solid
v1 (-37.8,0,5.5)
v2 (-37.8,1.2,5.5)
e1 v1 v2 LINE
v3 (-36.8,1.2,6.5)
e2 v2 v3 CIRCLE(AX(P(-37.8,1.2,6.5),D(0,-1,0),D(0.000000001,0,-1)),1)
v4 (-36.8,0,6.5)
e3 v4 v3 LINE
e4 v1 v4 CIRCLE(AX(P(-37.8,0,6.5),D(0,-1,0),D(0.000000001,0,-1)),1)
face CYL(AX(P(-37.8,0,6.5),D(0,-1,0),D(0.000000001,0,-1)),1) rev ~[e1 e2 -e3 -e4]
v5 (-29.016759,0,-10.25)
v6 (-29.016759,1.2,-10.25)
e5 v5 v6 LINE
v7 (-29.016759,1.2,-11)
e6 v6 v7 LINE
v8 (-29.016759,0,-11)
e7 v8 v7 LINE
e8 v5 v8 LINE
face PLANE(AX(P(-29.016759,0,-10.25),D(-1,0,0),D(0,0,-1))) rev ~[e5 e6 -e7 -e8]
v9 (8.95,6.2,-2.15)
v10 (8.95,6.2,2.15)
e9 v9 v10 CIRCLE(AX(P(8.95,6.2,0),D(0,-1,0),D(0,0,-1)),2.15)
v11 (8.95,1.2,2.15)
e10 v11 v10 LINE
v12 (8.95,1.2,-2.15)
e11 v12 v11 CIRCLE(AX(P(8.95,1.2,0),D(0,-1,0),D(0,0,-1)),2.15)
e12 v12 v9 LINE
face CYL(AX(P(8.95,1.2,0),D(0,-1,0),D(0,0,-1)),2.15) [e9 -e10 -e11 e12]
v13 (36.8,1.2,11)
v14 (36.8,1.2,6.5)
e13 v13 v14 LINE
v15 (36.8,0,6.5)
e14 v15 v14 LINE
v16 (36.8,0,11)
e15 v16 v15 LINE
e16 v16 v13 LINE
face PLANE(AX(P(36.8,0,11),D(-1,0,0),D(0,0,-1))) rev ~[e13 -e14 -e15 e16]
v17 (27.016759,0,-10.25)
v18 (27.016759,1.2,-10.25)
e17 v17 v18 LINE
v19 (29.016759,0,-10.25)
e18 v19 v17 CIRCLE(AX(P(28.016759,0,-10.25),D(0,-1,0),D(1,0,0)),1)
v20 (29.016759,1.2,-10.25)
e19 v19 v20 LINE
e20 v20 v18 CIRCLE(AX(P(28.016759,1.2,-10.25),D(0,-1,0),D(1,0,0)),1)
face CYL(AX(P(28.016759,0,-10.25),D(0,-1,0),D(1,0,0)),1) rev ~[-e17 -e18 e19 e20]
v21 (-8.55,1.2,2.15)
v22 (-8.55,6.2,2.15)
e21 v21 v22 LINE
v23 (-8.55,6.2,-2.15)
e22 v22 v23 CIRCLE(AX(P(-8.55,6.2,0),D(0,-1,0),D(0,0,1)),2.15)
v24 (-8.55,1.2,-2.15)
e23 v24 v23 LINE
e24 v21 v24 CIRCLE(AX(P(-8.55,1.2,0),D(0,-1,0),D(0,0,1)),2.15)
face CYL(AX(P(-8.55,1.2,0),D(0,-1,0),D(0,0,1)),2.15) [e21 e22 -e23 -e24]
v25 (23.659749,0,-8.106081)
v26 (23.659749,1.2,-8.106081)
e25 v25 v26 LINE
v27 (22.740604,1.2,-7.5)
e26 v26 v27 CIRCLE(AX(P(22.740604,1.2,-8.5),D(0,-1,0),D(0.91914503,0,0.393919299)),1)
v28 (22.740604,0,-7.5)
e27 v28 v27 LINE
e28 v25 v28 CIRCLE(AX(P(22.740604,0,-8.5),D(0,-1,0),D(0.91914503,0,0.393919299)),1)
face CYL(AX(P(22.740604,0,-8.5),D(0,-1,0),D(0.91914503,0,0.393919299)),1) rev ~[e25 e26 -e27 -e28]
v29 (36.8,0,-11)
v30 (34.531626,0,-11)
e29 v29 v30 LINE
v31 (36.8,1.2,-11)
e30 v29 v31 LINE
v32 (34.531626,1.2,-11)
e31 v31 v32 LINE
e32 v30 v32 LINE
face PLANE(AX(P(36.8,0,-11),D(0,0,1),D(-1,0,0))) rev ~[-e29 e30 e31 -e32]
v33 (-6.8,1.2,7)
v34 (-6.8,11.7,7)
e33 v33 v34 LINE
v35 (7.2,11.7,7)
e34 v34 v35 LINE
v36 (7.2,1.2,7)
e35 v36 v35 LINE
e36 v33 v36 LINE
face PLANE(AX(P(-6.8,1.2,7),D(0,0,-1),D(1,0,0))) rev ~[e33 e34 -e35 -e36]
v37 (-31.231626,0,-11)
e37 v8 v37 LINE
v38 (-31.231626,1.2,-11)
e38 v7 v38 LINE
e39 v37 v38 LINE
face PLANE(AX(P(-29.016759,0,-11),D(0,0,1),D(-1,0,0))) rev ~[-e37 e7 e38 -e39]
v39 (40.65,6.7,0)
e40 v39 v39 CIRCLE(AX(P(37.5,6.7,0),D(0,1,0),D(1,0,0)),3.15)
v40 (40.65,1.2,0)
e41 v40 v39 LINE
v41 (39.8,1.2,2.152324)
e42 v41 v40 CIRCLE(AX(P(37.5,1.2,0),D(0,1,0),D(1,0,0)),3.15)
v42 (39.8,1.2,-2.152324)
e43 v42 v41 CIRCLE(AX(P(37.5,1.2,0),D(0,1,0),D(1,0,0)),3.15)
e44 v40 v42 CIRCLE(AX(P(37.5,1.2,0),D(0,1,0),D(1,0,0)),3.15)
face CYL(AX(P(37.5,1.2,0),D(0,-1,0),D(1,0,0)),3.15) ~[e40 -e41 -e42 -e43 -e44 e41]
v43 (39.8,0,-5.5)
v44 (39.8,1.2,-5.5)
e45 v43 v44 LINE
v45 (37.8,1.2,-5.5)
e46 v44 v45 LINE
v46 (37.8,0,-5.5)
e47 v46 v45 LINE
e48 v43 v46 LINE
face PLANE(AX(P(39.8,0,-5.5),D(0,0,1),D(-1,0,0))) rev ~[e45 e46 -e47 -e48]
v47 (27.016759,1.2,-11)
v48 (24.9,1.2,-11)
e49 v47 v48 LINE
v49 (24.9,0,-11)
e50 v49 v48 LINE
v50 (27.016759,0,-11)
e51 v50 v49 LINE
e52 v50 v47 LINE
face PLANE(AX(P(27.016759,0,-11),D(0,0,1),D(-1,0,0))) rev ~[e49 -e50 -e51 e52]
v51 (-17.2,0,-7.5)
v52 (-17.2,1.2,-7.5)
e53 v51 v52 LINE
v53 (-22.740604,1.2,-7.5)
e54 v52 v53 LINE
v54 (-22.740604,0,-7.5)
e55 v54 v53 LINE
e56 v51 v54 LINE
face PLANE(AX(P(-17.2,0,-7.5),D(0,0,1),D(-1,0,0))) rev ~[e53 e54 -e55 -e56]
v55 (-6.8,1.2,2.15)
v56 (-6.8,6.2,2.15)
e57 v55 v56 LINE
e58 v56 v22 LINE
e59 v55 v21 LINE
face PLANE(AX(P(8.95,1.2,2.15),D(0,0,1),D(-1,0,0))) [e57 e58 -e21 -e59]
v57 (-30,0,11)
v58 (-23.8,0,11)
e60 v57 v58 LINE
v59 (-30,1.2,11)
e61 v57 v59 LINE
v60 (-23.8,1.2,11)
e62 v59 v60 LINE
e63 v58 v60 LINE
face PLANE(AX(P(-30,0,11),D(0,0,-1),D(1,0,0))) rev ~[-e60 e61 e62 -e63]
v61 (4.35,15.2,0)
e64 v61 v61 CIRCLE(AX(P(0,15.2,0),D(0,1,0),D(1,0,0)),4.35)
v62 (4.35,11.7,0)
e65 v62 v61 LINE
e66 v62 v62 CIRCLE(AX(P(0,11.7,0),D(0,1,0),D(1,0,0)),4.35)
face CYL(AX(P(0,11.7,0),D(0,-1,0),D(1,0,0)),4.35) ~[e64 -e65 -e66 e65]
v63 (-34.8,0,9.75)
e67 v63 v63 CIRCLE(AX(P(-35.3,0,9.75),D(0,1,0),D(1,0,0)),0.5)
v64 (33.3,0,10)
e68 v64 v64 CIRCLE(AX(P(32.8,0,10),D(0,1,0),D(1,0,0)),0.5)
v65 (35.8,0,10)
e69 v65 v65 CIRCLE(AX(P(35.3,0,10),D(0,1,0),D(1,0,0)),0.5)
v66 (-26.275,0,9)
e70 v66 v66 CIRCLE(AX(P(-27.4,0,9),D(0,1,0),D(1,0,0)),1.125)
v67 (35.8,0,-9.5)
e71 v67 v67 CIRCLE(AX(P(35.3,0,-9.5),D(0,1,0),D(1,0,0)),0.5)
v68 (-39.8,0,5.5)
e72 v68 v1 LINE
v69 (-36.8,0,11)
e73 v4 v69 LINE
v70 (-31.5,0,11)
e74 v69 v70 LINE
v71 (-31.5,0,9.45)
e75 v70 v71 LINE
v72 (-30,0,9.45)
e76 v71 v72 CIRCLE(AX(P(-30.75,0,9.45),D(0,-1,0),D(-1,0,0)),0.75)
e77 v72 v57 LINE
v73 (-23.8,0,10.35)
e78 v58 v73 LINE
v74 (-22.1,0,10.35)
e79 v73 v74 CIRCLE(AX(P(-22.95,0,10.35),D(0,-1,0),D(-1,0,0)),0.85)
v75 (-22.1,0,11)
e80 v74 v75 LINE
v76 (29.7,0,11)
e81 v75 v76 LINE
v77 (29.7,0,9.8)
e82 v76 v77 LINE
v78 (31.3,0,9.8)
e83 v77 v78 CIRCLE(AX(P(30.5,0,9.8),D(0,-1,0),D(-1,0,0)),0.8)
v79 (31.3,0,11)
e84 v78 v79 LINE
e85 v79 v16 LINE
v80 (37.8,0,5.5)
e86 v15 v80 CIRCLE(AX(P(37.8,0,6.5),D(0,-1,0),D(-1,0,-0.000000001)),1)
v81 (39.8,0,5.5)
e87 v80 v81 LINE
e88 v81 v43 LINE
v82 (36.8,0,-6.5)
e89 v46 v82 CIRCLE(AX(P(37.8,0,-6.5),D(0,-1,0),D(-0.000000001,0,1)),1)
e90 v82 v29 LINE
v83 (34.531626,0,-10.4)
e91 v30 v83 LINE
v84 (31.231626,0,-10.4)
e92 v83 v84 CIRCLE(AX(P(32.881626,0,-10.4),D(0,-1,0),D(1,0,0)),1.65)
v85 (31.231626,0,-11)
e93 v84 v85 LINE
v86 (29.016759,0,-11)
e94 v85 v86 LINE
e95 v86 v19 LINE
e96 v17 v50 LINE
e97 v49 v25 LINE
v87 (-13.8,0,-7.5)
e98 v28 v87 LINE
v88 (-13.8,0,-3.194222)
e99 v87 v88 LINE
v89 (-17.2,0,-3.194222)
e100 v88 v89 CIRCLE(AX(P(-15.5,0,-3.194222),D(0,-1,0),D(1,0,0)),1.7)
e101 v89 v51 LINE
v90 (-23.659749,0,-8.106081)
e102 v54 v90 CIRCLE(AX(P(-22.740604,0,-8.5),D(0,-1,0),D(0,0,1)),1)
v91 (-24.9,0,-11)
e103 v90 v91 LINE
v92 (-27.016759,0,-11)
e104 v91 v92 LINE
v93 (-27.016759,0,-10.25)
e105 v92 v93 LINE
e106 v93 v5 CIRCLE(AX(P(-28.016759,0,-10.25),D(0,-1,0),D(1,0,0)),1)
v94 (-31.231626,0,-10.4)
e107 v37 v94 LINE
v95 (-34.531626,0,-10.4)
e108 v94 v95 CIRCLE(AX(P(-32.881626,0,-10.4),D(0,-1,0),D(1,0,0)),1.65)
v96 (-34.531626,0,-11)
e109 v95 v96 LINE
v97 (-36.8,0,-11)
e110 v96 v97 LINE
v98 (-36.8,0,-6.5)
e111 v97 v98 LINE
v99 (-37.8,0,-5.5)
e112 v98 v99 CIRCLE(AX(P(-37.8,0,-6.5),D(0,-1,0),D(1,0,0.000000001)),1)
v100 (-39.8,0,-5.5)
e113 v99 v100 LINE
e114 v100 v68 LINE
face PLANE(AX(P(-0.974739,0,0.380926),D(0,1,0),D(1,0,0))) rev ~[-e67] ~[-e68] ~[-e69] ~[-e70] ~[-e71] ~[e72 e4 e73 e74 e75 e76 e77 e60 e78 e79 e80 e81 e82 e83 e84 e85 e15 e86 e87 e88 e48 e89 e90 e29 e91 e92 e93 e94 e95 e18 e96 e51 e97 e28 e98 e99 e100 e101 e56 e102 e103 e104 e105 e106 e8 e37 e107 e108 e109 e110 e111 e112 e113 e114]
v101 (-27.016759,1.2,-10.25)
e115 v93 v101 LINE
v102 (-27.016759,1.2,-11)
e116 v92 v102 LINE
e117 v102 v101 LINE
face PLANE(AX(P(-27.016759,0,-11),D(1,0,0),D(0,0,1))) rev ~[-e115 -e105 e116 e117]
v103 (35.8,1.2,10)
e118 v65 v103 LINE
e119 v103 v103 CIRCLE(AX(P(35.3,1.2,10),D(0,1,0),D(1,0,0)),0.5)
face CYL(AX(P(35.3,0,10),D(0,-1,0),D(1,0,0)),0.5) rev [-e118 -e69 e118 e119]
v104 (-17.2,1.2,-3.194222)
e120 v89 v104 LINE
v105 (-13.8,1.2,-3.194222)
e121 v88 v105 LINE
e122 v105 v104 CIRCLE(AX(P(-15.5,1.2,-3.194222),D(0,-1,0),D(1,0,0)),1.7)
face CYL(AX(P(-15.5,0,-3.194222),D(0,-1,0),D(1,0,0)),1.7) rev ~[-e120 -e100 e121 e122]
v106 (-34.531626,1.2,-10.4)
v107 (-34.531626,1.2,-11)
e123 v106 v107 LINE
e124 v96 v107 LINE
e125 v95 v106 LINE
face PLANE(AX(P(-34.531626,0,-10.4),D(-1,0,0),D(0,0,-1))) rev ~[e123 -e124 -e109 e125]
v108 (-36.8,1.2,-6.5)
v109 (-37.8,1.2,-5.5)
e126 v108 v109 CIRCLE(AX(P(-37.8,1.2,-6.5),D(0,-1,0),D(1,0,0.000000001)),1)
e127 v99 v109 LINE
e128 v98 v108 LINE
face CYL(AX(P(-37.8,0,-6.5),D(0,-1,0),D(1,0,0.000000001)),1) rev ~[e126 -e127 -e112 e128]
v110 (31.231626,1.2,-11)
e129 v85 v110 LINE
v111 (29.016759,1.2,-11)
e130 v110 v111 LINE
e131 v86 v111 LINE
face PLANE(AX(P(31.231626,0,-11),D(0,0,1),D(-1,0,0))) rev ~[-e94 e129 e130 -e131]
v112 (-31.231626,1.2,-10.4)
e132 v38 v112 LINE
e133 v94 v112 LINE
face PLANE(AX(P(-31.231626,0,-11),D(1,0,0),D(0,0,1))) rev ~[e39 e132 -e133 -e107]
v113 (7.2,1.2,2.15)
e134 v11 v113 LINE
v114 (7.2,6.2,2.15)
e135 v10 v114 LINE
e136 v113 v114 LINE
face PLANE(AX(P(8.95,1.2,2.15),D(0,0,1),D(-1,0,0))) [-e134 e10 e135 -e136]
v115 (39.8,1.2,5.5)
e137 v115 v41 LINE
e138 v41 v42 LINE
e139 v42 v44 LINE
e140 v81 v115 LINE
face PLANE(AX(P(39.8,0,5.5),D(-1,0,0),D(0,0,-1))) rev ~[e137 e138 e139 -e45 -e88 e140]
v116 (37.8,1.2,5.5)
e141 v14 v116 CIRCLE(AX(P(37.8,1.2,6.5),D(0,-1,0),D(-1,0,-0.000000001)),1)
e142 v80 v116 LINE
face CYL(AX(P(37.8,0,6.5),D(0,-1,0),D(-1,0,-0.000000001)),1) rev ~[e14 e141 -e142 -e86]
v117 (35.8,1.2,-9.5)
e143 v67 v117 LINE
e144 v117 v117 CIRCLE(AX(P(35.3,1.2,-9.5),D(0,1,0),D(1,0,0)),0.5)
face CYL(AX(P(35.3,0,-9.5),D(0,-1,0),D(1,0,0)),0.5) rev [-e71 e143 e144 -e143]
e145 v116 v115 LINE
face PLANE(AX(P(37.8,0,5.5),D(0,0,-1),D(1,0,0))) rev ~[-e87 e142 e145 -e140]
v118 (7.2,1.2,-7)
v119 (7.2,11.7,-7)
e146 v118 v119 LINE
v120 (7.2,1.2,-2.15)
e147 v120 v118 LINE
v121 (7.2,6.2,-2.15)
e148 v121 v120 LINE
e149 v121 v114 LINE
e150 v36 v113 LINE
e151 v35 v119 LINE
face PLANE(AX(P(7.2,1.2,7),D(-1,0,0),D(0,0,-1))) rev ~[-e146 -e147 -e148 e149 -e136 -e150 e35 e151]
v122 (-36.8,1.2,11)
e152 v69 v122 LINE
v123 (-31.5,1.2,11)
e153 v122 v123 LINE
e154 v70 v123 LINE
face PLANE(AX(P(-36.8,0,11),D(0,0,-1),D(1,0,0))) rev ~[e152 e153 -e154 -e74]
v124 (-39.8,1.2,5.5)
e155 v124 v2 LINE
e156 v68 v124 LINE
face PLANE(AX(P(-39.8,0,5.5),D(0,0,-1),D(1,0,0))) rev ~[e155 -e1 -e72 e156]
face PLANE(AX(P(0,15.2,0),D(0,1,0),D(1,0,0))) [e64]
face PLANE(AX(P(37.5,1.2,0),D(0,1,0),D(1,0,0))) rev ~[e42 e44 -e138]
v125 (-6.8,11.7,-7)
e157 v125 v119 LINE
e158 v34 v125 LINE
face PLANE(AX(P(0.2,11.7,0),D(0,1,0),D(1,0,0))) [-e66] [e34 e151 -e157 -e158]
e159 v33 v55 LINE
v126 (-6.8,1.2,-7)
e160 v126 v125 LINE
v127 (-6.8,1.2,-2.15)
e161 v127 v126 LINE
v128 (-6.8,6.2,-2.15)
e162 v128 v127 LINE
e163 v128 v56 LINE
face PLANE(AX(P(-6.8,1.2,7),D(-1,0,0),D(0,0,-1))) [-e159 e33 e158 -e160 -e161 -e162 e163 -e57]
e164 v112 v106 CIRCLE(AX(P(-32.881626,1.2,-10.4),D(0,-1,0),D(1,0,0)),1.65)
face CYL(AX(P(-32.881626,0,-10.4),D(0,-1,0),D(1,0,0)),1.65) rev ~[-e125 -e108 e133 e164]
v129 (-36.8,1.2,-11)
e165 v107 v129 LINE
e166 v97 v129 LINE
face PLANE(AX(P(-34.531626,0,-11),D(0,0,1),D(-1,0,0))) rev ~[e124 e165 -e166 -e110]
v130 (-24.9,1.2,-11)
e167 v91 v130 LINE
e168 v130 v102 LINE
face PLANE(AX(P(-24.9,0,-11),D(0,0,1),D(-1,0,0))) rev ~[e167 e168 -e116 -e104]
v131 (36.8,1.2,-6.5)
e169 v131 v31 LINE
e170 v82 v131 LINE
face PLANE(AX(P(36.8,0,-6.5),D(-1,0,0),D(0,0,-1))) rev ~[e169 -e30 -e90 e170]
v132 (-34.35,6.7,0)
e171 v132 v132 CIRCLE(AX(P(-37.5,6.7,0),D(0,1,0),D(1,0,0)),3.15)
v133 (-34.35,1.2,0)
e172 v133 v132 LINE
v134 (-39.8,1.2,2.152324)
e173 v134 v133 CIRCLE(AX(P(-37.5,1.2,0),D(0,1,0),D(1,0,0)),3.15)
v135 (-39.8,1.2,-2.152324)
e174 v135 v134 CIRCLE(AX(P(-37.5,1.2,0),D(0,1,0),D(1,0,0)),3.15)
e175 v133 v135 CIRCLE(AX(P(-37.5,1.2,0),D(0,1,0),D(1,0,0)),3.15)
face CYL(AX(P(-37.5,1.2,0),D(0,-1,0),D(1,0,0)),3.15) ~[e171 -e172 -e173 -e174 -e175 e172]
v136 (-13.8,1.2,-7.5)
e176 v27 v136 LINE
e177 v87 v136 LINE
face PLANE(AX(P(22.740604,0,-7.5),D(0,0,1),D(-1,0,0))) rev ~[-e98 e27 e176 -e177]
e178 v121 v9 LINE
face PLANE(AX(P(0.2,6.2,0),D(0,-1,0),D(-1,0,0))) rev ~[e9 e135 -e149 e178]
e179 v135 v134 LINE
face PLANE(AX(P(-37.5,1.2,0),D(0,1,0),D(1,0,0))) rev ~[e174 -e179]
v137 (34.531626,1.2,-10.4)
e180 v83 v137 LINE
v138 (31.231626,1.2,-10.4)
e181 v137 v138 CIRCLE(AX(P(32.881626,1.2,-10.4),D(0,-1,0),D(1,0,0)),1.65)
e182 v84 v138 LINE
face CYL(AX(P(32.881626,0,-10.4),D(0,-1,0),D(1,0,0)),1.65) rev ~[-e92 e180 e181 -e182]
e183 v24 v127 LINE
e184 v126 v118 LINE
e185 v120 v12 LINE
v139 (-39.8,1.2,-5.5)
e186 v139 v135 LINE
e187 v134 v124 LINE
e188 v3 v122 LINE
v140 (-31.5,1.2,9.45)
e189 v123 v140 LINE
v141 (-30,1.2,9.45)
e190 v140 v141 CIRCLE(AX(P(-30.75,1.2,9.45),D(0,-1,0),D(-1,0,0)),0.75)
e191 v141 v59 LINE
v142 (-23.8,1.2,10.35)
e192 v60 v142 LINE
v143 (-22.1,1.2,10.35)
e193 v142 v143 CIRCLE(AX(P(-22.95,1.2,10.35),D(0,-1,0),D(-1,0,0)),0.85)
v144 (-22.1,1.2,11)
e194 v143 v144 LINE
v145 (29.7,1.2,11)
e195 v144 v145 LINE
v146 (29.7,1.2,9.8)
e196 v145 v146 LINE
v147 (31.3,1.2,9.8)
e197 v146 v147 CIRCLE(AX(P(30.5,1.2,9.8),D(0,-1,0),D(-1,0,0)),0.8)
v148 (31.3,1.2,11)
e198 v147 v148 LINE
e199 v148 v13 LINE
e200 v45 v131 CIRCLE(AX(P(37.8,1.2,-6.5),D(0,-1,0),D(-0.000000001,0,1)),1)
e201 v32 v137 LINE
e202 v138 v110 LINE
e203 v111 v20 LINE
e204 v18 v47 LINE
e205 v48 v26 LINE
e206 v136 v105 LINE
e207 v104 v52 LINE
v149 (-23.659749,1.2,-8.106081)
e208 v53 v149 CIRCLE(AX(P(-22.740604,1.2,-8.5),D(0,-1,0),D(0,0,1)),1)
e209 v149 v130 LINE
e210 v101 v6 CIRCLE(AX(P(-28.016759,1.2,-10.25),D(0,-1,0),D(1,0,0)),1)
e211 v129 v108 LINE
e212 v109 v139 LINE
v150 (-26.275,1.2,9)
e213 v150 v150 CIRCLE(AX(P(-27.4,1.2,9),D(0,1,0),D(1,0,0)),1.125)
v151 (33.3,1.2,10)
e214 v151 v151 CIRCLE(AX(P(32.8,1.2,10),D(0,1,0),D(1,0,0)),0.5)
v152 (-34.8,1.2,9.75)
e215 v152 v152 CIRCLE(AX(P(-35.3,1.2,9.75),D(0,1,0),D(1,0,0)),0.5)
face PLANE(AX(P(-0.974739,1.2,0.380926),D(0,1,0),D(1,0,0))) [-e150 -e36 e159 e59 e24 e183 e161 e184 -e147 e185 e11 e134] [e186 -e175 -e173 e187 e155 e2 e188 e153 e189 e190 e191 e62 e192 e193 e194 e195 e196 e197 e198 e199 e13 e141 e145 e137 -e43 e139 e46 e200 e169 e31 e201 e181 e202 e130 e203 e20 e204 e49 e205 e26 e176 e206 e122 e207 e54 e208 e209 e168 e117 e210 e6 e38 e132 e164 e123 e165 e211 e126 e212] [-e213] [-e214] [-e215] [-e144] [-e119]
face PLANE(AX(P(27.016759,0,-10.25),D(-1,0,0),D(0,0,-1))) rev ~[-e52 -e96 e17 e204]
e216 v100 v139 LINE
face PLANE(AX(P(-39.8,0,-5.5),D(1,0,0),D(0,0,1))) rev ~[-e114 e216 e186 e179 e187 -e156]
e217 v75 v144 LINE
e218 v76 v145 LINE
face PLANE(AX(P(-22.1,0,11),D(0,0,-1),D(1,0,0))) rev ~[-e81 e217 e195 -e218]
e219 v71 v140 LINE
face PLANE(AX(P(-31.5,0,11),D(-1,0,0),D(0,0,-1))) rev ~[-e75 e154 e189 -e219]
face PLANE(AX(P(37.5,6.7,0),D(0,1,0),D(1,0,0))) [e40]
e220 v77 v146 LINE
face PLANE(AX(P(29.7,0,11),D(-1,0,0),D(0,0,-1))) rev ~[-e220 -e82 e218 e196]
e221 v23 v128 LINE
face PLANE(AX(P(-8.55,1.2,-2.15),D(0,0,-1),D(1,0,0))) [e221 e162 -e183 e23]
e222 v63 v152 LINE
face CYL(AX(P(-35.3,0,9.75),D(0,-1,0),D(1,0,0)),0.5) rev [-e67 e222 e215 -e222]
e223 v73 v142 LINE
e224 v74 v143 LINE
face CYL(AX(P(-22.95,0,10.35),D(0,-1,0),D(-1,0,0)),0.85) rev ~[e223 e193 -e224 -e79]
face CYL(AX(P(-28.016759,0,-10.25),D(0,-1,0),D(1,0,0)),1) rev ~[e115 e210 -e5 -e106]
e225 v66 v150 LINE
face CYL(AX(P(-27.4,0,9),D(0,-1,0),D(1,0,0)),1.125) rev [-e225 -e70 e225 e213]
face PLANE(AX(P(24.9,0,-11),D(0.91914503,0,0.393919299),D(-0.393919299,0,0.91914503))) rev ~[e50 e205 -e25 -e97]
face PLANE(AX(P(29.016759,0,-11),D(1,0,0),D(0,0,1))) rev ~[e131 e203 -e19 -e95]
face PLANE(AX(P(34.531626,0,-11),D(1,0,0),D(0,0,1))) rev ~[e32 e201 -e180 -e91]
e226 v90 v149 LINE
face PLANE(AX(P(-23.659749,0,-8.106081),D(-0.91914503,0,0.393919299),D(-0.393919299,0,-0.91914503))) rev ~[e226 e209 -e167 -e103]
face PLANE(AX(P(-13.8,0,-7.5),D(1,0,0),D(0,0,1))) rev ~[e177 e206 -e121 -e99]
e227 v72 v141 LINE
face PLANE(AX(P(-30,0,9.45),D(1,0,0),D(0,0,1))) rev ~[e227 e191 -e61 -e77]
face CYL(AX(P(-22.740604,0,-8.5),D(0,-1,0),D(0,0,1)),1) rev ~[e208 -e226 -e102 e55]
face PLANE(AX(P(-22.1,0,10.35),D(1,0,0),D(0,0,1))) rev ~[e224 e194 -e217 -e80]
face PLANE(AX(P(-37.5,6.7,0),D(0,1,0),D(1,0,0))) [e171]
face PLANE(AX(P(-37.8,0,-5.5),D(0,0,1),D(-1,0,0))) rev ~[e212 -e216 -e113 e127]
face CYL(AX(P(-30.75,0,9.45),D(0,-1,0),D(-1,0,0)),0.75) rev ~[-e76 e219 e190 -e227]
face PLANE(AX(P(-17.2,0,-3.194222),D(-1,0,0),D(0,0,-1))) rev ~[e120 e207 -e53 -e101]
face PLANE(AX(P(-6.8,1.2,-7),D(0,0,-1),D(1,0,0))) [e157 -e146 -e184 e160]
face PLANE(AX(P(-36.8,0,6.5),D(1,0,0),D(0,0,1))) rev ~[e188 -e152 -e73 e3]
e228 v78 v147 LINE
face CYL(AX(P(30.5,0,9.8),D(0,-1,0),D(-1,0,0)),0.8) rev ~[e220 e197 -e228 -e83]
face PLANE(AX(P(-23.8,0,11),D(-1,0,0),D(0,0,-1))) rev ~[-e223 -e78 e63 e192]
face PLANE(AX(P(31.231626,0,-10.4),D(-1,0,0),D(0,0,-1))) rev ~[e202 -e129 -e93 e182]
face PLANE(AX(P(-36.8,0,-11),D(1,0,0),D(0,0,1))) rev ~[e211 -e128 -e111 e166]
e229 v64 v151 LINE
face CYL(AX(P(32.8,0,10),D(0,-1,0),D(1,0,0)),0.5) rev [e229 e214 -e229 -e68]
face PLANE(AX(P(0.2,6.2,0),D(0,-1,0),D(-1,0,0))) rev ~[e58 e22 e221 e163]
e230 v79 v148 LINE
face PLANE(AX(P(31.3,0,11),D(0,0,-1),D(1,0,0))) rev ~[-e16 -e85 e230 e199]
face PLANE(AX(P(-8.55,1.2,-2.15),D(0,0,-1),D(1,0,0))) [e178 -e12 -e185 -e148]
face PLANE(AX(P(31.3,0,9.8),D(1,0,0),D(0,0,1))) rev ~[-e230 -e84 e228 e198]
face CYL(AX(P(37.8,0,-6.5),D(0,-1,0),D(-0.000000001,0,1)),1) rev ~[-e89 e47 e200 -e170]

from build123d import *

# Parameters (mm, degrees)
SKETCH1_R                = 0.5
SKETCH1_R_2              = 1.125
PCB_DEPTH                = 1.2
SKETCH2_R                = 3.15
SPEAKERS_DEPTH           = 5.5
SKETCH3_W                = 14
SKETCH3_H                = 14
LENS_MOUNT_DEPTH         = 10.5
LENS_MOUTING_HOLES_DEPTH = 5
SKETCH5_R                = 4.35
LENS_DEPTH               = 3.5


with BuildPart() as part:
    # Sketch1 → PCB (new body)
    with BuildSketch(Plane(origin=(0, 0, 0), x_dir=(1, 0, 0), z_dir=(0, 1, 0))):
        with BuildLine():
            Line((-36.8, -11), (-31.5, -11))
            Line((-31.5, -11), (-31.5, -9.45))
            ThreePointArc((-31.5, -9.45), (-30.75, -8.7), (-30, -9.45))
            Line((-30, -9.45), (-30, -11))
            Line((-30, -11), (-23.8, -11))
            Line((-23.8, -11), (-23.8, -10.35))
            ThreePointArc((-23.8, -10.35), (-22.95, -9.5), (-22.1, -10.35))
            Line((-22.1, -10.35), (-22.1, -11))
            Line((-22.1, -11), (29.7, -11))
            Line((29.7, -11), (29.7, -9.8))
            ThreePointArc((29.7, -9.8), (30.5, -9), (31.3, -9.8))
            Line((31.3, -9.8), (31.3, -11))
            Line((31.3, -11), (36.8, -11))
            Line((36.8, -11), (36.8, -6.5))
            ThreePointArc((36.8, -6.5), (37.092893219, -5.792893219), (37.8, -5.5))
            Line((37.8, -5.5), (39.8, -5.5))
            Line((39.8, -5.5), (39.8, 5.5))
            Line((39.8, 5.5), (37.8, 5.5))
            ThreePointArc((37.8, 5.5), (37.092893219, 5.792893219), (36.8, 6.5))
            Line((36.8, 6.5), (36.8, 11))
            Line((36.8, 11), (34.531625915, 11))
            Line((34.531625915, 11), (34.531625915, 10.4))
            ThreePointArc((34.531625915, 10.4), (32.881625915, 8.75), (31.231625915, 10.4))
            Line((31.231625915, 10.4), (31.231625915, 11))
            Line((31.231625915, 11), (29.016759255, 11))
            Line((29.016759255, 11), (29.016759255, 10.25))
            ThreePointArc((29.016759255, 10.25), (28.016759255, 9.25), (27.016759255, 10.25))
            Line((27.016759255, 10.25), (27.016759255, 11))
            Line((27.016759255, 11), (24.9, 11))
            Line((24.9, 11), (23.659748872, 8.106080701))
            ThreePointArc((23.659748872, 8.106080701), (23.291094851, 7.665158908), (22.740603842, 7.5))
            Line((22.740603842, 7.5), (-13.8, 7.5))
            Line((-13.8, 7.5), (-13.8, 3.194222302))
            ThreePointArc((-13.8, 3.194222302), (-15.5, 1.494222302), (-17.2, 3.194222302))
            Line((-17.2, 3.194222302), (-17.2, 7.5))
            Line((-17.2, 7.5), (-22.740603842, 7.5))
            ThreePointArc((-22.740603842, 7.5), (-23.291094851, 7.665158908), (-23.659748872, 8.106080701))
            Line((-23.659748872, 8.106080701), (-24.9, 11))
            Line((-24.9, 11), (-27.016759255, 11))
            Line((-27.016759255, 11), (-27.016759255, 10.25))
            ThreePointArc((-27.016759255, 10.25), (-28.016759255, 9.25), (-29.016759255, 10.25))
            Line((-29.016759255, 10.25), (-29.016759255, 11))
            Line((-29.016759255, 11), (-31.231625915, 11))
            Line((-31.231625915, 11), (-31.231625915, 10.4))
            ThreePointArc((-31.231625915, 10.4), (-32.881625915, 8.75), (-34.531625915, 10.4))
            Line((-34.531625915, 10.4), (-34.531625915, 11))
            Line((-34.531625915, 11), (-36.8, 11))
            Line((-36.8, 11), (-36.8, 6.5))
            ThreePointArc((-36.8, 6.5), (-37.092893219, 5.792893219), (-37.8, 5.5))
            Line((-37.8, 5.5), (-39.8, 5.5))
            Line((-39.8, 5.5), (-39.8, -5.5))
            Line((-39.8, -5.5), (-37.8, -5.5))
            ThreePointArc((-37.8, -5.5), (-37.092893219, -5.792893219), (-36.8, -6.5))
            Line((-36.8, -6.5), (-36.8, -11))
        make_face()
        with Locations((35.3, 9.5)):
            Circle(SKETCH1_R, mode=Mode.SUBTRACT)
        with Locations((-35.3, -9.75)):
            Circle(SKETCH1_R, mode=Mode.SUBTRACT)
        with Locations((-27.4, -9)):
            Circle(SKETCH1_R_2, mode=Mode.SUBTRACT)
        with Locations((35.3, -10)):
            Circle(SKETCH1_R, mode=Mode.SUBTRACT)
        with Locations((32.8, -10)):
            Circle(SKETCH1_R, mode=Mode.SUBTRACT)
    extrude(amount=PCB_DEPTH)

    # Sketch2 → speakers (add)
    with BuildSketch(Plane(origin=(0, 1.2, 0), x_dir=(1, 0, 0), z_dir=(0, 1, 0))):
        with Locations((-37.5, 0)):
            Circle(SKETCH2_R)
        with Locations((37.5, 0)):
            Circle(SKETCH2_R)
    extrude(amount=SPEAKERS_DEPTH)

    # Sketch3 → lens_mount (add)
    with BuildSketch(Plane(origin=(0, 1.2, 0), x_dir=(1, 0, 0), z_dir=(0, 1, 0))):
        with Locations((0.2, 0)):
            Rectangle(SKETCH3_W, SKETCH3_H)
    extrude(amount=LENS_MOUNT_DEPTH)

    # Sketch4 → lens_mouting_holes (add)
    with BuildSketch(Plane(origin=(0, 1.2, 0), x_dir=(1, 0, 0), z_dir=(0, 1, 0))):
        with BuildLine():
            Line((-8.55, 2.15), (8.95, 2.15))
            ThreePointArc((8.95, 2.15), (11.1, 0), (8.95, -2.15))
            Line((8.95, -2.15), (-8.55, -2.15))
            ThreePointArc((-8.55, -2.15), (-10.7, 0), (-8.55, 2.15))
        make_face()
    extrude(amount=LENS_MOUTING_HOLES_DEPTH)

    # Sketch5 → lens (add)
    with BuildSketch(Plane(origin=(0, 11.7, 0), x_dir=(1, 0, 0), z_dir=(0, 1, 0))):
        Circle(SKETCH5_R)
    extrude(amount=LENS_DEPTH)


solid = part.part
